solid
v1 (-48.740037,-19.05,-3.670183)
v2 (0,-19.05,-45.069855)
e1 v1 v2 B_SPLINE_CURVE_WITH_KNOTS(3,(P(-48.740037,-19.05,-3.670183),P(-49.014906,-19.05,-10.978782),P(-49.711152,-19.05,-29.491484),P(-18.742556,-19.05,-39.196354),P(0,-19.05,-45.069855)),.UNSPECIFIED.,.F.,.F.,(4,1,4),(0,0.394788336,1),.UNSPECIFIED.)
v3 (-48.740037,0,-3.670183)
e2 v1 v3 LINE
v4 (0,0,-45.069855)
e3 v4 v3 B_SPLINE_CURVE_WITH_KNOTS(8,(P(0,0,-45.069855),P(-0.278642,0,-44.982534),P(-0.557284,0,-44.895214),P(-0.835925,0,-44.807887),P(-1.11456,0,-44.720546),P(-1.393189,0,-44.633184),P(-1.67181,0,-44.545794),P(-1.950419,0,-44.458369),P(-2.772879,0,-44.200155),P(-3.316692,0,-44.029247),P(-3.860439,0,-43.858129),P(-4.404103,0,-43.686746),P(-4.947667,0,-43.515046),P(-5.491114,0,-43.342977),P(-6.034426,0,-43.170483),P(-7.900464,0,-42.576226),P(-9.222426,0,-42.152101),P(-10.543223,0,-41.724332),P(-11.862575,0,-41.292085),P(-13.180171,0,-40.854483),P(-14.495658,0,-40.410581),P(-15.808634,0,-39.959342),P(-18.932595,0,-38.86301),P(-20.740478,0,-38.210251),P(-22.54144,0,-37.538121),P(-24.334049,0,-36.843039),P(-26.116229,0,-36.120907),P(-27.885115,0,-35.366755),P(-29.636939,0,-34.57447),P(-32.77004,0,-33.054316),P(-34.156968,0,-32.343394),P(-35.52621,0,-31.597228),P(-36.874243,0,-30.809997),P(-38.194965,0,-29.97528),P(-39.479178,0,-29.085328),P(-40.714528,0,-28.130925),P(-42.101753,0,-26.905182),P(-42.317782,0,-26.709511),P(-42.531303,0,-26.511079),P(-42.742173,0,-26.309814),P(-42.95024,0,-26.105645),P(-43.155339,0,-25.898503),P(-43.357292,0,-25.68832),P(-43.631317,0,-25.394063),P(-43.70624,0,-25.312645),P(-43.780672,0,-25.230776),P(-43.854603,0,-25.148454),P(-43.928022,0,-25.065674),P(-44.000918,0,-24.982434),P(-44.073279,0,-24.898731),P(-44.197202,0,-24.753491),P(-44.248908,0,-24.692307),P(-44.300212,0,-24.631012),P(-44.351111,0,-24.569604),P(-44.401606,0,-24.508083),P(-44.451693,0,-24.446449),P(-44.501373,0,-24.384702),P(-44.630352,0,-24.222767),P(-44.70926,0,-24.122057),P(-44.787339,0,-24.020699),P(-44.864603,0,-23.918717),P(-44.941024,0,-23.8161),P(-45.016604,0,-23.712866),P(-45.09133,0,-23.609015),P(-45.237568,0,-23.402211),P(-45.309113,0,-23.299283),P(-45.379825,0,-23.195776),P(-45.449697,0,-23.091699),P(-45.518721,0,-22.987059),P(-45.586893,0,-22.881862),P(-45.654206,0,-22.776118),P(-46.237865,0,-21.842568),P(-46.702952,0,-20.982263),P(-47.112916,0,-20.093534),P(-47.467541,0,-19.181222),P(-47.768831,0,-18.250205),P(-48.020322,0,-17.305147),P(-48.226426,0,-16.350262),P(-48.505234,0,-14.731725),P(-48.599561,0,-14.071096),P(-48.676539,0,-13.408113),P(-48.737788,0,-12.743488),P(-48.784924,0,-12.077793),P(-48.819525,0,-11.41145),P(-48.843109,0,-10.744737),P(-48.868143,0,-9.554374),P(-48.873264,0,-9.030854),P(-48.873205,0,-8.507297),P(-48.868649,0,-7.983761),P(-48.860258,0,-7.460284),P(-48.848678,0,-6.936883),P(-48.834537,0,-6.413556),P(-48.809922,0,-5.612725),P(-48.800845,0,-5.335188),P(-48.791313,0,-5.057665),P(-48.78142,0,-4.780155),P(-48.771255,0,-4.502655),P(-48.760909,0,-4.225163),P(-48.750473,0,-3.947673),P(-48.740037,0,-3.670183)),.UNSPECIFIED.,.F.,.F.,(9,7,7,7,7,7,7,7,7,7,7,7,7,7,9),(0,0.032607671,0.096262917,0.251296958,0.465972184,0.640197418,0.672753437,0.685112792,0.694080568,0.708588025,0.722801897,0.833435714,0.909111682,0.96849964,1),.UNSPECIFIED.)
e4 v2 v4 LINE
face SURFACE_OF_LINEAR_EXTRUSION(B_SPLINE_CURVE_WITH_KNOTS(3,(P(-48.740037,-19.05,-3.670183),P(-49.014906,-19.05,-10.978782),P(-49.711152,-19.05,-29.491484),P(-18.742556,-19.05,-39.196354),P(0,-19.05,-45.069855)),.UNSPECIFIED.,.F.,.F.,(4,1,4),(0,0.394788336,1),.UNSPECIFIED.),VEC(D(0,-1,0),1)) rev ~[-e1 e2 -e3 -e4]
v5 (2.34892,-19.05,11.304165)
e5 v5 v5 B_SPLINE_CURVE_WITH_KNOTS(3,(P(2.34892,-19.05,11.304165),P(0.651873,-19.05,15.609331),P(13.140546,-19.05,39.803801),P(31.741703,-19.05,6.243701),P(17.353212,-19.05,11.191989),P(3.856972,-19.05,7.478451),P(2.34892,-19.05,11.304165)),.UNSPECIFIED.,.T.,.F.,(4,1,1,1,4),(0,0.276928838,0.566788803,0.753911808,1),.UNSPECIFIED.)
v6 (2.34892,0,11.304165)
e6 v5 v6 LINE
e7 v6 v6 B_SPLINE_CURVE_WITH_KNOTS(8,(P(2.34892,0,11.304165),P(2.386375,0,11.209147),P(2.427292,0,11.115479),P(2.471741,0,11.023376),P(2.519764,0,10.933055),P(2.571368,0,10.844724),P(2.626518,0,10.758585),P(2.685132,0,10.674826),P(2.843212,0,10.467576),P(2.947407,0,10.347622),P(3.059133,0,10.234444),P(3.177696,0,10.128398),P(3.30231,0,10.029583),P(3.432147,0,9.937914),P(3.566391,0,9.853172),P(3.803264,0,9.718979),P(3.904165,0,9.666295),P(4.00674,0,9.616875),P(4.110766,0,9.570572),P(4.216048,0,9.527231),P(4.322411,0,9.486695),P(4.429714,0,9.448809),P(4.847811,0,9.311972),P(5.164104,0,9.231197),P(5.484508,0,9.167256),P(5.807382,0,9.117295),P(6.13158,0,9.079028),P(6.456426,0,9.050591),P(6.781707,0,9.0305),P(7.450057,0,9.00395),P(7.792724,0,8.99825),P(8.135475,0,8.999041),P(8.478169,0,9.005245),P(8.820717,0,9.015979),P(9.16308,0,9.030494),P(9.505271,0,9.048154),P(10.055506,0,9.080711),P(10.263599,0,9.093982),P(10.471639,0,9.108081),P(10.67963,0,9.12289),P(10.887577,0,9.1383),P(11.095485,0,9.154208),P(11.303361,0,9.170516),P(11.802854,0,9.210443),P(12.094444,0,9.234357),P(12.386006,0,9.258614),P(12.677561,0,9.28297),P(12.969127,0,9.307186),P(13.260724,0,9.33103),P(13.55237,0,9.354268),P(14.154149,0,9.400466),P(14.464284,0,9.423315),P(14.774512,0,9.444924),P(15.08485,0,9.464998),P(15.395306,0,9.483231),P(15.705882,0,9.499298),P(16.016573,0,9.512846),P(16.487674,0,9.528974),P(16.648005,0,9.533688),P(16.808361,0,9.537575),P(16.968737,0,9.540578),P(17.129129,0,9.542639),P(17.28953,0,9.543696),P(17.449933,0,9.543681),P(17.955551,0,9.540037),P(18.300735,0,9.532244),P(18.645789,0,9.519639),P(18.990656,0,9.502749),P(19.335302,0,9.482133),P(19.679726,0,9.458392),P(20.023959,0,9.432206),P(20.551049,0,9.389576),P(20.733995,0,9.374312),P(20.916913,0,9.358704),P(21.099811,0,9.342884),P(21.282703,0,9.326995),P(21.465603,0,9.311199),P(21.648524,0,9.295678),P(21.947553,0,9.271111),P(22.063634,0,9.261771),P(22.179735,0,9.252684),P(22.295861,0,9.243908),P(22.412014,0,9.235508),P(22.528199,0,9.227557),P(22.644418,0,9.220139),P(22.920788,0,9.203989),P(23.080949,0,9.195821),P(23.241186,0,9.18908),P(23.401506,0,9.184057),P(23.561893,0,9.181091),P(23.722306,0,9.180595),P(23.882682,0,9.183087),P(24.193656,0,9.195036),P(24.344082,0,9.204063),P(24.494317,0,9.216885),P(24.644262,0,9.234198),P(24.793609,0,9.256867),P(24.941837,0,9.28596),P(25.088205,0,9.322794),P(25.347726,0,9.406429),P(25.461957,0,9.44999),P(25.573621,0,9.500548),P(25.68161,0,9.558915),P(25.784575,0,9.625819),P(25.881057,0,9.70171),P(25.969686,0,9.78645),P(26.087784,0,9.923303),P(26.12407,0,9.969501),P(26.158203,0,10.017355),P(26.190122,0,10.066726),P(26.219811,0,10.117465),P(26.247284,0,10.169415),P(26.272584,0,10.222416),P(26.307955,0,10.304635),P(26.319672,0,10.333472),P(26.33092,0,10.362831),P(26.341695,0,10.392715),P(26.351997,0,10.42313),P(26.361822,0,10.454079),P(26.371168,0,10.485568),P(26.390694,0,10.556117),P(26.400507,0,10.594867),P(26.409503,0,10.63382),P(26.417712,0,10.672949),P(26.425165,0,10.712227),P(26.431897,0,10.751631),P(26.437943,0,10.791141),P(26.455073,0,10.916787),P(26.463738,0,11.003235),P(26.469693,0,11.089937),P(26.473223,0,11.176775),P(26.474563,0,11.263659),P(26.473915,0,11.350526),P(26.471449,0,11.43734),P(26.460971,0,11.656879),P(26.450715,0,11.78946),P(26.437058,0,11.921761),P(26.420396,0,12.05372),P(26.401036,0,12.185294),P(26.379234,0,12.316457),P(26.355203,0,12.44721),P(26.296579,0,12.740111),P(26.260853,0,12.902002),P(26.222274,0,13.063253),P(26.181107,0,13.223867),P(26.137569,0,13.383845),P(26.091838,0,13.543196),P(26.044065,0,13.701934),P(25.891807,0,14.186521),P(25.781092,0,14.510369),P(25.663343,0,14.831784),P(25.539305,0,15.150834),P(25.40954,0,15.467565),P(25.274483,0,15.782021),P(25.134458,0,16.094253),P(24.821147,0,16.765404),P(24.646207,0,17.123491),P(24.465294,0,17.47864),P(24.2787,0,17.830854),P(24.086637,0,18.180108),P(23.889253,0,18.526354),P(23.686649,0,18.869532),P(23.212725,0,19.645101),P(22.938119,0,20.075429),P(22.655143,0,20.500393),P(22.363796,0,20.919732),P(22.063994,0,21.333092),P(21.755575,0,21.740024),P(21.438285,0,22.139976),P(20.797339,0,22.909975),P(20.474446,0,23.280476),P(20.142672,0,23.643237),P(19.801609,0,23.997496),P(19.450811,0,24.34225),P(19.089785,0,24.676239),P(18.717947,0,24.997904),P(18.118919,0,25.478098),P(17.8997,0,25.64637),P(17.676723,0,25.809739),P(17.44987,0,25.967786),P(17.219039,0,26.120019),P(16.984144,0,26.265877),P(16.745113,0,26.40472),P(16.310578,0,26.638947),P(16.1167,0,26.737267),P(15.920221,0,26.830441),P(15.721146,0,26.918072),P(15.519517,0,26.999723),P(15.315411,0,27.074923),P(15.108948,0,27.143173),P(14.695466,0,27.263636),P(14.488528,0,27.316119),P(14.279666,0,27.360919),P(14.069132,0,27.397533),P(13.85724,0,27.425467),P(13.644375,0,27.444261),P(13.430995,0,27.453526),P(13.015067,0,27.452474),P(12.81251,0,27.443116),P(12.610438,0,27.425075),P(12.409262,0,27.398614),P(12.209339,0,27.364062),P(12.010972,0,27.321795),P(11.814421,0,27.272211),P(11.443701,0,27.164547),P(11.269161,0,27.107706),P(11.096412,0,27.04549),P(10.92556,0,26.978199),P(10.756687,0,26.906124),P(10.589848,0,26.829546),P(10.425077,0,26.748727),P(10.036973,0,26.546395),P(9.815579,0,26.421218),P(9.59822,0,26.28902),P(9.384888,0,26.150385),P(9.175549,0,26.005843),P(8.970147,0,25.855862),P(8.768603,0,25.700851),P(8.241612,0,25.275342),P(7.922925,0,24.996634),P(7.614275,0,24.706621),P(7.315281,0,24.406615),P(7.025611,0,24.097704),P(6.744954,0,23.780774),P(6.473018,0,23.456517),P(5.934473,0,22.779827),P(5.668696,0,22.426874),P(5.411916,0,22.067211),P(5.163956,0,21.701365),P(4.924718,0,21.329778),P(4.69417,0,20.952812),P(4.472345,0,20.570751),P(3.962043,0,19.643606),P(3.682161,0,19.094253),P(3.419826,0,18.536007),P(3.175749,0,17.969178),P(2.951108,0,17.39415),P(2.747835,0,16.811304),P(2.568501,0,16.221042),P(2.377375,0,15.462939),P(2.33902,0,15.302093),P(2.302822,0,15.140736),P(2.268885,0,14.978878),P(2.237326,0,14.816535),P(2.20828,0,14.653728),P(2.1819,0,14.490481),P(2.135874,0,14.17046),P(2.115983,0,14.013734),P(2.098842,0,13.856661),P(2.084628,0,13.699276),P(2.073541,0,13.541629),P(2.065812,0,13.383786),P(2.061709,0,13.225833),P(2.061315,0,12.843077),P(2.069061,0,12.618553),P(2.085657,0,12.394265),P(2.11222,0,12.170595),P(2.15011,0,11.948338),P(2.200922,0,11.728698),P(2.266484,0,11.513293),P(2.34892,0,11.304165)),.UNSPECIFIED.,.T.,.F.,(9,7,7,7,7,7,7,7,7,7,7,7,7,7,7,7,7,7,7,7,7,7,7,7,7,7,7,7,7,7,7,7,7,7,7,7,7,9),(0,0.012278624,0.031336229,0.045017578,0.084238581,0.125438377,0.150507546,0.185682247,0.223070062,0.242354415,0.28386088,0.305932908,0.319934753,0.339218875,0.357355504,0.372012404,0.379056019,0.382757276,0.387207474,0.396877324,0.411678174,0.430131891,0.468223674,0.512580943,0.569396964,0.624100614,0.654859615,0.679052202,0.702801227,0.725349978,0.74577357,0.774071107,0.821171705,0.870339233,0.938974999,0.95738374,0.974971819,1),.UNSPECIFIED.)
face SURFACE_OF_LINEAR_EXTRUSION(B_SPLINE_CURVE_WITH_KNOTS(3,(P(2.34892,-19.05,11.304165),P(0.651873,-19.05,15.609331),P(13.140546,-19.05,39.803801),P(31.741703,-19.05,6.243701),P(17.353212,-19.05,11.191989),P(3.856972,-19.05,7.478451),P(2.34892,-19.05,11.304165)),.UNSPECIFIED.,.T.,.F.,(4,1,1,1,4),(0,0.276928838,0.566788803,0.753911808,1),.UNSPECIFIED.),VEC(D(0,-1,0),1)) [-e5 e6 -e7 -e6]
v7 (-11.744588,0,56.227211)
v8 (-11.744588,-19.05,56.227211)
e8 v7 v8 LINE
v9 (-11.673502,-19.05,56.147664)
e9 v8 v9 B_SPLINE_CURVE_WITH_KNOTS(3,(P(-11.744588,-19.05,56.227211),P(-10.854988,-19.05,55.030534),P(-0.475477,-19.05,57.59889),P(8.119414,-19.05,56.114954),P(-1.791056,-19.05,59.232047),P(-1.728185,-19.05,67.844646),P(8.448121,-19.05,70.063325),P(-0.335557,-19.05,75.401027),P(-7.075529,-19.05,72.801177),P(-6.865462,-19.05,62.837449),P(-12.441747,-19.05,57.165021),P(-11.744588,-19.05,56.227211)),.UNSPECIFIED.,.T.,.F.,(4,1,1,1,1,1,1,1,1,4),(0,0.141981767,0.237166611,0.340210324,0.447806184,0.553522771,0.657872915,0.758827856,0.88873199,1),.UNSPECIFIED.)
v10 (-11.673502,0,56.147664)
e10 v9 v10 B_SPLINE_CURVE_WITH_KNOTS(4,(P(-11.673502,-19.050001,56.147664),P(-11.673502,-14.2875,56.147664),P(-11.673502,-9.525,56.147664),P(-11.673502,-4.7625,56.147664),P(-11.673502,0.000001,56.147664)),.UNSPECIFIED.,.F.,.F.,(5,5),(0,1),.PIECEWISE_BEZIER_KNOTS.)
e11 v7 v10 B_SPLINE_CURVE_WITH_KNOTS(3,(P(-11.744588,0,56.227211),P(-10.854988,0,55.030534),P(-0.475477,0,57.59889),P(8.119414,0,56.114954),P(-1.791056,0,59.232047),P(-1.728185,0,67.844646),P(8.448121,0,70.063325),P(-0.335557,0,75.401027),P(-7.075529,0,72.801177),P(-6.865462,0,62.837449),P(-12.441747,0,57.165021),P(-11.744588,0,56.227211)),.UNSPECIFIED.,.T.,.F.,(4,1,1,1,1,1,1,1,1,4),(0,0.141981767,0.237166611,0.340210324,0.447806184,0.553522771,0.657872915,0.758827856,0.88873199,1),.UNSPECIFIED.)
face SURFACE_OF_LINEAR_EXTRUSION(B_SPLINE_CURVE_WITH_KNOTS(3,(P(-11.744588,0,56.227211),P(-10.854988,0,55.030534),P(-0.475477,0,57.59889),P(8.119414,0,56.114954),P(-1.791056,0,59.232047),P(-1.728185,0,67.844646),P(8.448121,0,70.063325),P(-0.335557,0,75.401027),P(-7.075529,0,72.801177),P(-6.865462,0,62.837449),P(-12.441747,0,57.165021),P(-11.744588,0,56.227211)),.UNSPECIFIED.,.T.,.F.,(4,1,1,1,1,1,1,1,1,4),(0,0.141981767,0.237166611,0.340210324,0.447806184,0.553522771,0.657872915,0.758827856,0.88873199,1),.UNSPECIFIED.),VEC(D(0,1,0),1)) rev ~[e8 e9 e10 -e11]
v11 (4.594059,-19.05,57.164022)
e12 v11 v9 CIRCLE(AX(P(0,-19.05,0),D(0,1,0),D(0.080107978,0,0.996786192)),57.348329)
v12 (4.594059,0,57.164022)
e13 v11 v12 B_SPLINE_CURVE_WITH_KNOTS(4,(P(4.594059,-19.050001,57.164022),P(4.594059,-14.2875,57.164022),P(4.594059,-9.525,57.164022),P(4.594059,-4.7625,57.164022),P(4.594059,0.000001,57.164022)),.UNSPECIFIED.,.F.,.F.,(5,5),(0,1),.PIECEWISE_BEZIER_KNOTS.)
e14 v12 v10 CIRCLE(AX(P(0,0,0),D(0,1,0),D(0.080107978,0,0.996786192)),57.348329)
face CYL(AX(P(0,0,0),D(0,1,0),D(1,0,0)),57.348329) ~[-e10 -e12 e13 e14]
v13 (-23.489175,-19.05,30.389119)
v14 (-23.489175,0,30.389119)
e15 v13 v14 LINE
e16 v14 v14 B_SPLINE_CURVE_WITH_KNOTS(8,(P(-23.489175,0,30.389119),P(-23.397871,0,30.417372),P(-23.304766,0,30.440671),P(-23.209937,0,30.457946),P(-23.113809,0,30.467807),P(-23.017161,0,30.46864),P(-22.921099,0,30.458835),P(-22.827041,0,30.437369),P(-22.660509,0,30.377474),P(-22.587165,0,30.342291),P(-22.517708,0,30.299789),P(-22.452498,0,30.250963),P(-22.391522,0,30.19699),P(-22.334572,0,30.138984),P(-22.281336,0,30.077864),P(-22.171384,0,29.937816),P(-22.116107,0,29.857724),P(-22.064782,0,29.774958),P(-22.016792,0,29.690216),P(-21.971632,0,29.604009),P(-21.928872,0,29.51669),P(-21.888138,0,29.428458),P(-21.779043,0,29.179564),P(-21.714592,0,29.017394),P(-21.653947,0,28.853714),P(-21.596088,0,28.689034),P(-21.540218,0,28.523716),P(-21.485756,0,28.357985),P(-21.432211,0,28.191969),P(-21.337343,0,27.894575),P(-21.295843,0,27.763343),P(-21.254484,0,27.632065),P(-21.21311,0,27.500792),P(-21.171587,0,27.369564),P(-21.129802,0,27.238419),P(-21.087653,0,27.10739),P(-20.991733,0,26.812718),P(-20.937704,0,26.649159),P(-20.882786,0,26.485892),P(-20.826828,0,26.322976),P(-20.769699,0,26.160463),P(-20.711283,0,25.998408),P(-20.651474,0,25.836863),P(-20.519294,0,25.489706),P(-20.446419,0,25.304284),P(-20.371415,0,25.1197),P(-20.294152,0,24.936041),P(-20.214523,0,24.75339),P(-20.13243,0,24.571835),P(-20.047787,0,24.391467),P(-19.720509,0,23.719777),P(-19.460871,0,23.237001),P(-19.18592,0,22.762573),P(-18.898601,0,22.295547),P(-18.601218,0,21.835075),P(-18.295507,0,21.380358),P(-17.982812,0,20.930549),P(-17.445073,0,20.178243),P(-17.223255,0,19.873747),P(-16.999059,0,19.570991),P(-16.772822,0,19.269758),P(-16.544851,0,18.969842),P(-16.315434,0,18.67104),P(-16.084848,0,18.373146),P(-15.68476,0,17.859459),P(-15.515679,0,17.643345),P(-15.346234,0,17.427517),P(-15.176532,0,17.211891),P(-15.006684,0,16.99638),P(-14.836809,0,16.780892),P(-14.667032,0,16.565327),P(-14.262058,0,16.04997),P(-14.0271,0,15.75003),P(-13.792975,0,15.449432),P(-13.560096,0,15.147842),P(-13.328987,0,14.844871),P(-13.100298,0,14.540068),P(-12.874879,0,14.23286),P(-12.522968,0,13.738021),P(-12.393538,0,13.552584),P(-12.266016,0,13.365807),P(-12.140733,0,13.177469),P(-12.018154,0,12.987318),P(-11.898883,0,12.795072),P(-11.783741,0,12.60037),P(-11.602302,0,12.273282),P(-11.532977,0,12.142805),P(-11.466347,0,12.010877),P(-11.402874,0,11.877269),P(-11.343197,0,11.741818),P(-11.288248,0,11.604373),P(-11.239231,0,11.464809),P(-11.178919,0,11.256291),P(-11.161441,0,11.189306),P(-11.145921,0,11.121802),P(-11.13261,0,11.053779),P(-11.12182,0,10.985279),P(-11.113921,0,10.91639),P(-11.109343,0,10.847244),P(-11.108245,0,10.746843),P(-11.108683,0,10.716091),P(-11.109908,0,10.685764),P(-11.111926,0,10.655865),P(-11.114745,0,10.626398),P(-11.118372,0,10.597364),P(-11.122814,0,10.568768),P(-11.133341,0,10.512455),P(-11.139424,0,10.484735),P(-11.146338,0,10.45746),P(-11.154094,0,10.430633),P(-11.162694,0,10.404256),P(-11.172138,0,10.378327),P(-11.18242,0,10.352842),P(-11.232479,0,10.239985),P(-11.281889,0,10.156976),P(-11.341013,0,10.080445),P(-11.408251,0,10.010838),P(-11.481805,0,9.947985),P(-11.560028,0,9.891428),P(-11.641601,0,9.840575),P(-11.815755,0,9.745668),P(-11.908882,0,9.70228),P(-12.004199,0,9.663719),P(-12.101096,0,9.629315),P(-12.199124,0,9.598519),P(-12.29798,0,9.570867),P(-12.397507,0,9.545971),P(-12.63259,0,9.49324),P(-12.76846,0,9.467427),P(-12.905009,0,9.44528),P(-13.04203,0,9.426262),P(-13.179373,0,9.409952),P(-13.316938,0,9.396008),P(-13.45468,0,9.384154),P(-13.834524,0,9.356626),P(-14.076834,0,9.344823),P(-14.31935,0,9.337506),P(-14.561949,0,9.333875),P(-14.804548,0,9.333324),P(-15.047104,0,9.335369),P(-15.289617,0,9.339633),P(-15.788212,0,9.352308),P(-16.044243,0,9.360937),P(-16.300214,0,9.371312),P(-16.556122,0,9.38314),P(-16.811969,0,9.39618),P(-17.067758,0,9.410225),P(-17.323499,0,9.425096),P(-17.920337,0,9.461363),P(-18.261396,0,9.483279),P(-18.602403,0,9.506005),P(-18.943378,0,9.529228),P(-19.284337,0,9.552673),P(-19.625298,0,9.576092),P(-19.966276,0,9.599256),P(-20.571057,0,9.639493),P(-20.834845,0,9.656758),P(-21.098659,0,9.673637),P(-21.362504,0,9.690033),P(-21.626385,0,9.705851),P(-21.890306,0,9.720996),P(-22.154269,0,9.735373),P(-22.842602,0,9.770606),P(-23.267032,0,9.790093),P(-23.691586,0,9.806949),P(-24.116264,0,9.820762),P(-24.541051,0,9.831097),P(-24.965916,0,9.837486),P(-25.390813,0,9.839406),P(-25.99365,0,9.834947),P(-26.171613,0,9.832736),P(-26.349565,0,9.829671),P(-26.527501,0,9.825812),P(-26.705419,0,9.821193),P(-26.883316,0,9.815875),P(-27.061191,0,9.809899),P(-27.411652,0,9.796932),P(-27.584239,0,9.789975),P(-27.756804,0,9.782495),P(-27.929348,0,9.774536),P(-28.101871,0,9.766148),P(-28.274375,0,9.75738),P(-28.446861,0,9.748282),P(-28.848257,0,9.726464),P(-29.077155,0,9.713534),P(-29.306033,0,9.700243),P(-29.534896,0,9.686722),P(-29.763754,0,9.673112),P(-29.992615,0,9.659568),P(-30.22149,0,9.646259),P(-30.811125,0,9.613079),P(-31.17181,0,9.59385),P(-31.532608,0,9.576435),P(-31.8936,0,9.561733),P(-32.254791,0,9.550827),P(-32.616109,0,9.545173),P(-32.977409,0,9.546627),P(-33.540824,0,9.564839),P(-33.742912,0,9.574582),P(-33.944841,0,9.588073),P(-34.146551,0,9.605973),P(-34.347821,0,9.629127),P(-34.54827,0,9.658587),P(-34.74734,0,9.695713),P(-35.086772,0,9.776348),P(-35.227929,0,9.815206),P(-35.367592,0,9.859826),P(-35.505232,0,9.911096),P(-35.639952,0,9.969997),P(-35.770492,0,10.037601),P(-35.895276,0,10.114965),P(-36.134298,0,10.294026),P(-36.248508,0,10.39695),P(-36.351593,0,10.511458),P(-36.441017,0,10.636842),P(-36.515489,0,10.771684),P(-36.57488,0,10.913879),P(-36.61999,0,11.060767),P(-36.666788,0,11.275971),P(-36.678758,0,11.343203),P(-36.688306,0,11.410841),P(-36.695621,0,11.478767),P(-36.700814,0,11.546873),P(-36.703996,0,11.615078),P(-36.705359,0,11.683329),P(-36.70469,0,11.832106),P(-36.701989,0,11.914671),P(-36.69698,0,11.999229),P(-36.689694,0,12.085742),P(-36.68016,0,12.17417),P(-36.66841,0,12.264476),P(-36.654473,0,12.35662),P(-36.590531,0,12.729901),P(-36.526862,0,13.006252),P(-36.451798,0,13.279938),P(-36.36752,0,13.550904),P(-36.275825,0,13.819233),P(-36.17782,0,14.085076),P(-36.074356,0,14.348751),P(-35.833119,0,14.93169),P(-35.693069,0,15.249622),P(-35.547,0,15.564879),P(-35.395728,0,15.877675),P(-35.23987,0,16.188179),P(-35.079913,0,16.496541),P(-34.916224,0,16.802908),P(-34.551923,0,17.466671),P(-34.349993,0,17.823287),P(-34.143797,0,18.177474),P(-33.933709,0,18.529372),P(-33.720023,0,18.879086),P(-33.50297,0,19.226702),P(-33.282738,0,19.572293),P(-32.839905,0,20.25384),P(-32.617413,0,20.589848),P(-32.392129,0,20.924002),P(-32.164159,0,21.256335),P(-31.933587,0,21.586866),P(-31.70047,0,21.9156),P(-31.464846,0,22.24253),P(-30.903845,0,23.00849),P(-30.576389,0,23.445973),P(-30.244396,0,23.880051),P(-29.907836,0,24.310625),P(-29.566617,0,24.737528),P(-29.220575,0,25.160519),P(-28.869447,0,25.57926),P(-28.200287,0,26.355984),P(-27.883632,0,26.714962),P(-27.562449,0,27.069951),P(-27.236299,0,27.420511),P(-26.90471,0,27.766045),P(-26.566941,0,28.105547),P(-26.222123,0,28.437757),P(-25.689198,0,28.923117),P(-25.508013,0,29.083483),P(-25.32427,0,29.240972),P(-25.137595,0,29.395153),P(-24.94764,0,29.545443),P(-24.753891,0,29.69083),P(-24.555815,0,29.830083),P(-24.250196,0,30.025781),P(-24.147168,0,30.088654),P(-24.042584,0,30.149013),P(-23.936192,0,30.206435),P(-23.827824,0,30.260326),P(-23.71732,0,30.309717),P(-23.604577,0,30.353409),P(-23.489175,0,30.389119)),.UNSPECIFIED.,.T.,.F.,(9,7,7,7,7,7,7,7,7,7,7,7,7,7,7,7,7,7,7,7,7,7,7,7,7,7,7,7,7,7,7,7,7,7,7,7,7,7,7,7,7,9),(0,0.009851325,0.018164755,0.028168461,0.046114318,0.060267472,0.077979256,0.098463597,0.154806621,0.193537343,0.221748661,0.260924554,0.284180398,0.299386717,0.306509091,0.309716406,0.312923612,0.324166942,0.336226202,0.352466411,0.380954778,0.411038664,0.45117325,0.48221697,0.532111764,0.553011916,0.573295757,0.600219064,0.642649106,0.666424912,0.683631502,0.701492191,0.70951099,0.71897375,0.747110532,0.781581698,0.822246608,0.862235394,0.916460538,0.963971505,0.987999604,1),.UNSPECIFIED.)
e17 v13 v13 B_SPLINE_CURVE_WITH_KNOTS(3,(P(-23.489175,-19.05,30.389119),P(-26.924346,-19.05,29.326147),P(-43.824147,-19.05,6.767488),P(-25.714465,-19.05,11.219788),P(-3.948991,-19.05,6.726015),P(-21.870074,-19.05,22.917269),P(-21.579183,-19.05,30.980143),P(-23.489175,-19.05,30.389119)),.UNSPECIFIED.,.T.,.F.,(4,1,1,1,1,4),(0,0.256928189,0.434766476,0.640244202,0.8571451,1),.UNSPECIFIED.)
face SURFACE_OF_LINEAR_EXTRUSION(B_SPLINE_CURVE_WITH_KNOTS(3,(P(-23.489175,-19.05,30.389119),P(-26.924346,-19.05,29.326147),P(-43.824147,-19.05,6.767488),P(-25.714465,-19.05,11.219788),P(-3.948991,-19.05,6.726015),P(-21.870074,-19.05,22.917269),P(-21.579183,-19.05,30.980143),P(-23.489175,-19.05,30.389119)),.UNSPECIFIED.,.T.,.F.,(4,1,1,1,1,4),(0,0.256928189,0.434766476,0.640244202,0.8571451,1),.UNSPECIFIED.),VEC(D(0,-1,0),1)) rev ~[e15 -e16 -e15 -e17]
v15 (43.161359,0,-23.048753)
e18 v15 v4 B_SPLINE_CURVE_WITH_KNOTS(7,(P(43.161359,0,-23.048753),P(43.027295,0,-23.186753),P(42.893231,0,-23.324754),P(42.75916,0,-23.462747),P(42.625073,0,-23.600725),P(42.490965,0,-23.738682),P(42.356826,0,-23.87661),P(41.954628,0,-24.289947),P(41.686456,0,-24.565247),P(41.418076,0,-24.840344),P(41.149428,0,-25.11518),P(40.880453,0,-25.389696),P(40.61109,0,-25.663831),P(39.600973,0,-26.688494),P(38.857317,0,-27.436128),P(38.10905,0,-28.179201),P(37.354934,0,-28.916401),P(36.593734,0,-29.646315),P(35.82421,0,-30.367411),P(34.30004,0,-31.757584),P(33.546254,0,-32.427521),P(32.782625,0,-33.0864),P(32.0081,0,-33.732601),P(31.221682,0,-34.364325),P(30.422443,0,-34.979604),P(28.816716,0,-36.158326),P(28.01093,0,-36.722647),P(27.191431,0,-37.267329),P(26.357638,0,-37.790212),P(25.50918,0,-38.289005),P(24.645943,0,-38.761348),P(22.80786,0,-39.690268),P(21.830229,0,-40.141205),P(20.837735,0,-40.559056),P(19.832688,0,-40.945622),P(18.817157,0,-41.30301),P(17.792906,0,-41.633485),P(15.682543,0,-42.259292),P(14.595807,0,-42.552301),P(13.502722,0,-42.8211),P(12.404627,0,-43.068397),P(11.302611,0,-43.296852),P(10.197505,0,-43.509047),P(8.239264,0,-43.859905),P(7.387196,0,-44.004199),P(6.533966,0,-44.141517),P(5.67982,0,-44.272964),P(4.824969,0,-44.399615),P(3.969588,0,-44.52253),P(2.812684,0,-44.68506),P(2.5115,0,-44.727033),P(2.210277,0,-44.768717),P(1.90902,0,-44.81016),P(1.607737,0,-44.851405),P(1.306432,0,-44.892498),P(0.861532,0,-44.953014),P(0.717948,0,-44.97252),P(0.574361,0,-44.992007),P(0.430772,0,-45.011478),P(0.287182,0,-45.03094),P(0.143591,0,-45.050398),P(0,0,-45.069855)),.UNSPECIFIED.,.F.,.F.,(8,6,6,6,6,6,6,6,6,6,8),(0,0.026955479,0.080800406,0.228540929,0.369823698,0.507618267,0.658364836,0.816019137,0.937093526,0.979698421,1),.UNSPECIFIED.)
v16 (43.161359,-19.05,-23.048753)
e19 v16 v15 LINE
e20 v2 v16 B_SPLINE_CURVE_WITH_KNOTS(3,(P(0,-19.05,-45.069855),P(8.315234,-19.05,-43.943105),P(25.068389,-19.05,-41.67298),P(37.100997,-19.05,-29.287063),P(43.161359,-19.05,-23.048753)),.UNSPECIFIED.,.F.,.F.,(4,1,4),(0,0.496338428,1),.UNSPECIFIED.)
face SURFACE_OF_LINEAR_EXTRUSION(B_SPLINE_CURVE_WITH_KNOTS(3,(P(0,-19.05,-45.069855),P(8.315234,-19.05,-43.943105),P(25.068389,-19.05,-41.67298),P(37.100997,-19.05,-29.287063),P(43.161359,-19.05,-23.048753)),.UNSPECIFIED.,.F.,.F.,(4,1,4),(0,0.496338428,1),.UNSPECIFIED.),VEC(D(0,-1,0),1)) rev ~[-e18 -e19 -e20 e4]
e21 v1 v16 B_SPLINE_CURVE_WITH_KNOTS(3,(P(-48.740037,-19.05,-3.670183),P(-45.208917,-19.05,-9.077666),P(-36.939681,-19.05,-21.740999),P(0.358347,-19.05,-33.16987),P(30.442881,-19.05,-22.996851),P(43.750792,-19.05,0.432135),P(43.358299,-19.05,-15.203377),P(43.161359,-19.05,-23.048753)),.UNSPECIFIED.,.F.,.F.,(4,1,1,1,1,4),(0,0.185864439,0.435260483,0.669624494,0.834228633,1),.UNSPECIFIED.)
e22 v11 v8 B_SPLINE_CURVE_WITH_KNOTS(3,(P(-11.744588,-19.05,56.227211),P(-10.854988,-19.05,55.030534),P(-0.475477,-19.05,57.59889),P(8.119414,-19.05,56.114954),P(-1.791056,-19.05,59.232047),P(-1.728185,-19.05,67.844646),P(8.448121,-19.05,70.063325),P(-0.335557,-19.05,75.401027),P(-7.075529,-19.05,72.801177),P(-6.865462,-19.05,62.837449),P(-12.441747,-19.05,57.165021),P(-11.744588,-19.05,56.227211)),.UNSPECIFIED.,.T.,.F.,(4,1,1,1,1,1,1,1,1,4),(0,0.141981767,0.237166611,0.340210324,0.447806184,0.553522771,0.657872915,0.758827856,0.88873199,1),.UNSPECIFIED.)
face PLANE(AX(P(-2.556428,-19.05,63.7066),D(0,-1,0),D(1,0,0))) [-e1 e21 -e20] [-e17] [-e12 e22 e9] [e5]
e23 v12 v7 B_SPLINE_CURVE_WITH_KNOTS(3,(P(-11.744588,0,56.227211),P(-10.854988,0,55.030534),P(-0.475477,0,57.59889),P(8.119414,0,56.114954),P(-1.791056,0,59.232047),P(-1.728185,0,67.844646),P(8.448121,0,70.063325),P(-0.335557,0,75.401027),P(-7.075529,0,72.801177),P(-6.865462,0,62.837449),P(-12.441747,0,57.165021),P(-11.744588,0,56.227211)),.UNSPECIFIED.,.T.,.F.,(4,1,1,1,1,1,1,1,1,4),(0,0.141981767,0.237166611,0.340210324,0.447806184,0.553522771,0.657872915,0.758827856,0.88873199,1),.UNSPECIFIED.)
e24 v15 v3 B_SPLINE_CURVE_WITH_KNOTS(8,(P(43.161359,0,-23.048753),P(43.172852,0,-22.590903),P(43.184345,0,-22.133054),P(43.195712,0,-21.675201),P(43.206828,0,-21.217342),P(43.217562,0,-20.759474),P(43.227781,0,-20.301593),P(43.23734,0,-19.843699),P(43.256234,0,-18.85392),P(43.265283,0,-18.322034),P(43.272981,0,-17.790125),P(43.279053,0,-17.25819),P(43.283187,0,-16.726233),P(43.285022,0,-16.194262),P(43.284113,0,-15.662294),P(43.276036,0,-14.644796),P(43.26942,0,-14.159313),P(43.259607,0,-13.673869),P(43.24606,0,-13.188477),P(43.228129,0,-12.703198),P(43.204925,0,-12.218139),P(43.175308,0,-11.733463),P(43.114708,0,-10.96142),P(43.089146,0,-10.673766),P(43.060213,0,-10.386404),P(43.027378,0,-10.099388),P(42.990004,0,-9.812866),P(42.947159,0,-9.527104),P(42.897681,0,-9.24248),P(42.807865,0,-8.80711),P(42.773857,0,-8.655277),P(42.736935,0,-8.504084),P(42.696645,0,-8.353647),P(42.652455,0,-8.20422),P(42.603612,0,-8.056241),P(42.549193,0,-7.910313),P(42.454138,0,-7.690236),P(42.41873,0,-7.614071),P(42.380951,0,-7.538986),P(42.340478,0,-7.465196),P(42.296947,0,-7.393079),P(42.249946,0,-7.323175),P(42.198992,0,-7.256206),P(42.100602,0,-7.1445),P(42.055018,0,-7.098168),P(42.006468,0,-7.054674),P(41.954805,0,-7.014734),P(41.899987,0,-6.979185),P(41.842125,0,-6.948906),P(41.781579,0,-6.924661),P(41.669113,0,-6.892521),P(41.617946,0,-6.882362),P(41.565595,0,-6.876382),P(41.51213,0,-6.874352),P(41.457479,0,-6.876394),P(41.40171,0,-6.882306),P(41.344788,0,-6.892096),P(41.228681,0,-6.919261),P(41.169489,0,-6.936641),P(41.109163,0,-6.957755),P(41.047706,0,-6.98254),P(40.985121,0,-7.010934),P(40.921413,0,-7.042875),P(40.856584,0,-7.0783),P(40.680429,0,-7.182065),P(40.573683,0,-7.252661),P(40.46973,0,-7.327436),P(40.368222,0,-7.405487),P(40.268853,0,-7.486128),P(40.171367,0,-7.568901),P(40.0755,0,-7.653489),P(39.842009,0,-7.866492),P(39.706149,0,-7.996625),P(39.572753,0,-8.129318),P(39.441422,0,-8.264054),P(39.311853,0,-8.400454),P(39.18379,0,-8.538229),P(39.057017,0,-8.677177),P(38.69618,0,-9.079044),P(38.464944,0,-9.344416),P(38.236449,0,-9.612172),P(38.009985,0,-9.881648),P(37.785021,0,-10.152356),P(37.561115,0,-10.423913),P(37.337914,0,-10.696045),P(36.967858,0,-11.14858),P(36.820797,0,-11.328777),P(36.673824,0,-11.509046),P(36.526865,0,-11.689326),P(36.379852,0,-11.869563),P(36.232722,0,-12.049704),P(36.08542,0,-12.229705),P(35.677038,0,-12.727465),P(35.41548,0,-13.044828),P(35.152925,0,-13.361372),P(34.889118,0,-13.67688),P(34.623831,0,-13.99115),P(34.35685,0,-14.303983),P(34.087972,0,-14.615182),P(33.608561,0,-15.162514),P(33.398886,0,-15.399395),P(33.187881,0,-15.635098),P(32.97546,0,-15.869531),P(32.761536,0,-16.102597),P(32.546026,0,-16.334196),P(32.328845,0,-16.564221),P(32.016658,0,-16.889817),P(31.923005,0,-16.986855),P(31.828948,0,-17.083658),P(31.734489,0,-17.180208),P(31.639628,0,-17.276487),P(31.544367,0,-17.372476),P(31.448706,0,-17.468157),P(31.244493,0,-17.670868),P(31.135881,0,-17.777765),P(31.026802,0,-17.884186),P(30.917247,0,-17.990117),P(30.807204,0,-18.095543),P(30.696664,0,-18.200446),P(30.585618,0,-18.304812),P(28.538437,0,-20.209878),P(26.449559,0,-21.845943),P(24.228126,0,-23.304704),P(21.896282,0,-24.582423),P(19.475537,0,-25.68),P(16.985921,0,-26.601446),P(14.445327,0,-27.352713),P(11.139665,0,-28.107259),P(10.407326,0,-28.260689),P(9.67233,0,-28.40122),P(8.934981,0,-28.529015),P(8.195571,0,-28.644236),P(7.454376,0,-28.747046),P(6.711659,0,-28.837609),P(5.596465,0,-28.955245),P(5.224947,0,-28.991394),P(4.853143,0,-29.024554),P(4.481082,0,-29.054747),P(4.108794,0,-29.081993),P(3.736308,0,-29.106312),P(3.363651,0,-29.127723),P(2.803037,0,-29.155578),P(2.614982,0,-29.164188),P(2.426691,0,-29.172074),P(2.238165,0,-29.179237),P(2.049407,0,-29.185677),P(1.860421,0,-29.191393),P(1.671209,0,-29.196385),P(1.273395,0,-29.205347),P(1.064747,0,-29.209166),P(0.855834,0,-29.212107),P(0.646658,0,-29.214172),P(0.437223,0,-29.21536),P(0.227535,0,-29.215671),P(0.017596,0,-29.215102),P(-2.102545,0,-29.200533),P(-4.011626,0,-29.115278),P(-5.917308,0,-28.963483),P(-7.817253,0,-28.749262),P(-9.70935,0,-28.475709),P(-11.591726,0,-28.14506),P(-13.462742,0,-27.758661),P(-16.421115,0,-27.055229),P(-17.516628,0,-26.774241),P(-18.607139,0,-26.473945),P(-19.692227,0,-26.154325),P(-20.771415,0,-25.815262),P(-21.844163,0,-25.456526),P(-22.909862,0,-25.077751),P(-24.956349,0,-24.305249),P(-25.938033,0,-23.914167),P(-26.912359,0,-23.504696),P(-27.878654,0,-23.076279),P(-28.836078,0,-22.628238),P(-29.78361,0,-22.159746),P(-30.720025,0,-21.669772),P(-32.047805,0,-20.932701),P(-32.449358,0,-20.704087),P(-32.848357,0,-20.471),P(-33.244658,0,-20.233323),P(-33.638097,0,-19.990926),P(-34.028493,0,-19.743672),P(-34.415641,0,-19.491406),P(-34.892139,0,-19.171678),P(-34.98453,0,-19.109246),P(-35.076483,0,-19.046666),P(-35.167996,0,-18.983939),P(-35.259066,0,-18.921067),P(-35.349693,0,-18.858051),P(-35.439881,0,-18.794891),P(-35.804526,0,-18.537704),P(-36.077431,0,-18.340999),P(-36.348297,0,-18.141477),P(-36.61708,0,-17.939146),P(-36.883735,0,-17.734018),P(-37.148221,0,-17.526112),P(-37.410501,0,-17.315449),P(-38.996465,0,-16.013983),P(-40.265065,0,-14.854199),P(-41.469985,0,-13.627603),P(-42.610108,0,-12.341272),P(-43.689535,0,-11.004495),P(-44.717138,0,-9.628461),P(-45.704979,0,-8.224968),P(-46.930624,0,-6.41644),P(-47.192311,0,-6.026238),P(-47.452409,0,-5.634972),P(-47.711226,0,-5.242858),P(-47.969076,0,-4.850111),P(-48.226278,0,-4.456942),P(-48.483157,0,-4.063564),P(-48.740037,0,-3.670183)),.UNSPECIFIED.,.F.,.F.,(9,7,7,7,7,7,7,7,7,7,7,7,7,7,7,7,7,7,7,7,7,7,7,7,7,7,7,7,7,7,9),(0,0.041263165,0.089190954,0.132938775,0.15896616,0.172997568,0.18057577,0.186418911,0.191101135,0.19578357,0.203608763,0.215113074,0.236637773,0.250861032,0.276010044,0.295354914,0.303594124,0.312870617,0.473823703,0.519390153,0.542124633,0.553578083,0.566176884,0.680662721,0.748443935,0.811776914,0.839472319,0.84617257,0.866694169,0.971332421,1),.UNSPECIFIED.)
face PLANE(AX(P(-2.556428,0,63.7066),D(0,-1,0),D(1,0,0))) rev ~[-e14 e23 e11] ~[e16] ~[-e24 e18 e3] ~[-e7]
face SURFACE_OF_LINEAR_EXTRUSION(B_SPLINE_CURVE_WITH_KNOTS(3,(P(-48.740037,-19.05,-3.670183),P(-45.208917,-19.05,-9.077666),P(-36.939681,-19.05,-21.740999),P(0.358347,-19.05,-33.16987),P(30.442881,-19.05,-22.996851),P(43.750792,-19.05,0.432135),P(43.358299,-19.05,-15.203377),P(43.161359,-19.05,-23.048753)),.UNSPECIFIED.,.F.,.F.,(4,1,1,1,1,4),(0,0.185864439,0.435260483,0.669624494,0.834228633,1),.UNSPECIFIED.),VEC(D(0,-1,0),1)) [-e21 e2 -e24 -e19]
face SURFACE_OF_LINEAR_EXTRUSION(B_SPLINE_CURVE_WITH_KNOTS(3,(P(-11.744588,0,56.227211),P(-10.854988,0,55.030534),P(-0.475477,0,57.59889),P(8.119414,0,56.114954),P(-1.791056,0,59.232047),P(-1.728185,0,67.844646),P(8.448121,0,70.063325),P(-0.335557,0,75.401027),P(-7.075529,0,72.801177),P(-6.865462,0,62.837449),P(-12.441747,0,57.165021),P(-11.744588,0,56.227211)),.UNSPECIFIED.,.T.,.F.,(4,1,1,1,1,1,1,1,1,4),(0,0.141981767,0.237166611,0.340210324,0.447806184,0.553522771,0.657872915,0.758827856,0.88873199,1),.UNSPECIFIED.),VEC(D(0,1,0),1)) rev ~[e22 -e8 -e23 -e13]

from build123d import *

# Parameters (mm, degrees)
F0_R     = 57.3483289895
F1_DEPTH = 19.05
F3_DEPTH = 25.4
F5_DEPTH = 25.4
F7_DEPTH = 19.05


with BuildPart() as f1:
    # F0 (on Front) → F1 (new body)
    with BuildSketch(Plane.XZ):
        Circle(F0_R)
    extrude(amount=F1_DEPTH)

    # F2 (on face) → F3 (cut)
    with BuildSketch(Plane.XZ.offset(19.05)):
        with BuildLine():
            add(Edge.make_bspline(
                [(-23.4891753644, 30.3891189396), (-26.9243462131, 29.3261471725), (-43.8241472686, 6.7674878607), (-25.7144645045, 11.219787571), (-3.9489905031, 6.7260151454), (-21.870073942, 22.9172690362), (-21.5791825731, 30.9801429387), (-23.4891753644, 30.3891189396)],
                knots=[0, 0, 0, 0, 0.2569281893, 0.434766476, 0.6402442022, 0.8571450996, 1, 1, 1, 1], degree=3))
        make_face()
        with BuildLine():
            add(Edge.make_bspline(
                [(2.3489200976, 11.3041652367), (0.6518734071, 15.6093314814), (13.1405461793, 39.8038013278), (31.7417025879, 6.2437005075), (17.3532122345, 11.1919894341), (3.8569723329, 7.4784510619), (2.3489200976, 11.3041652367)],
                knots=[0, 0, 0, 0, 0.2769288375, 0.5667888033, 0.7539118076, 1, 1, 1, 1], degree=3))
        make_face()
    extrude(amount=-F3_DEPTH, mode=Mode.SUBTRACT)

    # F4 (on face) → F5 (cut)
    with BuildSketch(Plane.XZ.offset(19.05)):
        with BuildLine():
            add(Edge.make_bspline(
                [(-48.7400367856, -3.6701834761), (-45.2089169003, -9.0776656429), (-36.9396806976, -21.7409987361), (0.3583468312, -33.1698702748), (30.44288108, -22.9968507414), (43.7507924182, 0.4321353545), (43.3582988271, -15.2033765472), (43.1613586843, -23.0487529188)],
                knots=[0, 0, 0, 0, 0.1858644389, 0.435260483, 0.6696244944, 0.8342286328, 1, 1, 1, 1], degree=3))
            add(Edge.make_bspline(
                [(-48.7400367856, -3.6701834761), (-49.0149064772, -10.9787822738), (-49.7111522028, -29.4914842131), (-18.742555771, -39.1963541969), (0, -45.0698547065)],
                knots=[0, 0, 0, 0, 0.3947883362, 1, 1, 1, 1], degree=3))
            add(Edge.make_bspline(
                [(0, -45.0698547065), (8.3152344196, -43.9431045773), (25.0683890157, -41.6729798697), (37.1009966236, -29.2870631847), (43.1613586843, -23.0487529188)],
                knots=[0, 0, 0, 0, 0.4963384282, 1, 1, 1, 1], degree=3))
        make_face()
    extrude(amount=-F5_DEPTH, mode=Mode.SUBTRACT)

    # F6 (on Front) → F7 (join)
    with BuildSketch(Plane.XZ):
        with BuildLine():
            add(Edge.make_bspline(
                [(-11.7445876822, 56.2272109091), (-10.8549881926, 55.0305335455), (-0.4754771669, 57.598890257), (8.119414425, 56.1149537556), (-1.7910564131, 59.2320467817), (-1.728184934, 67.8446462416), (8.4481205684, 70.0633250708), (-0.3355573929, 75.4010266697), (-7.0755293062, 72.8011766288), (-6.865462498, 62.8374485579), (-12.4417473706, 57.1650208199), (-11.7445876822, 56.2272109091)],
                knots=[0, 0, 0, 0, 0.141981767, 0.237166611, 0.3402103238, 0.447806184, 0.5535227706, 0.657872915, 0.7588278557, 0.8887319905, 1, 1, 1, 1], degree=3))
        make_face()
    extrude(amount=F7_DEPTH)


solid = f1.part
